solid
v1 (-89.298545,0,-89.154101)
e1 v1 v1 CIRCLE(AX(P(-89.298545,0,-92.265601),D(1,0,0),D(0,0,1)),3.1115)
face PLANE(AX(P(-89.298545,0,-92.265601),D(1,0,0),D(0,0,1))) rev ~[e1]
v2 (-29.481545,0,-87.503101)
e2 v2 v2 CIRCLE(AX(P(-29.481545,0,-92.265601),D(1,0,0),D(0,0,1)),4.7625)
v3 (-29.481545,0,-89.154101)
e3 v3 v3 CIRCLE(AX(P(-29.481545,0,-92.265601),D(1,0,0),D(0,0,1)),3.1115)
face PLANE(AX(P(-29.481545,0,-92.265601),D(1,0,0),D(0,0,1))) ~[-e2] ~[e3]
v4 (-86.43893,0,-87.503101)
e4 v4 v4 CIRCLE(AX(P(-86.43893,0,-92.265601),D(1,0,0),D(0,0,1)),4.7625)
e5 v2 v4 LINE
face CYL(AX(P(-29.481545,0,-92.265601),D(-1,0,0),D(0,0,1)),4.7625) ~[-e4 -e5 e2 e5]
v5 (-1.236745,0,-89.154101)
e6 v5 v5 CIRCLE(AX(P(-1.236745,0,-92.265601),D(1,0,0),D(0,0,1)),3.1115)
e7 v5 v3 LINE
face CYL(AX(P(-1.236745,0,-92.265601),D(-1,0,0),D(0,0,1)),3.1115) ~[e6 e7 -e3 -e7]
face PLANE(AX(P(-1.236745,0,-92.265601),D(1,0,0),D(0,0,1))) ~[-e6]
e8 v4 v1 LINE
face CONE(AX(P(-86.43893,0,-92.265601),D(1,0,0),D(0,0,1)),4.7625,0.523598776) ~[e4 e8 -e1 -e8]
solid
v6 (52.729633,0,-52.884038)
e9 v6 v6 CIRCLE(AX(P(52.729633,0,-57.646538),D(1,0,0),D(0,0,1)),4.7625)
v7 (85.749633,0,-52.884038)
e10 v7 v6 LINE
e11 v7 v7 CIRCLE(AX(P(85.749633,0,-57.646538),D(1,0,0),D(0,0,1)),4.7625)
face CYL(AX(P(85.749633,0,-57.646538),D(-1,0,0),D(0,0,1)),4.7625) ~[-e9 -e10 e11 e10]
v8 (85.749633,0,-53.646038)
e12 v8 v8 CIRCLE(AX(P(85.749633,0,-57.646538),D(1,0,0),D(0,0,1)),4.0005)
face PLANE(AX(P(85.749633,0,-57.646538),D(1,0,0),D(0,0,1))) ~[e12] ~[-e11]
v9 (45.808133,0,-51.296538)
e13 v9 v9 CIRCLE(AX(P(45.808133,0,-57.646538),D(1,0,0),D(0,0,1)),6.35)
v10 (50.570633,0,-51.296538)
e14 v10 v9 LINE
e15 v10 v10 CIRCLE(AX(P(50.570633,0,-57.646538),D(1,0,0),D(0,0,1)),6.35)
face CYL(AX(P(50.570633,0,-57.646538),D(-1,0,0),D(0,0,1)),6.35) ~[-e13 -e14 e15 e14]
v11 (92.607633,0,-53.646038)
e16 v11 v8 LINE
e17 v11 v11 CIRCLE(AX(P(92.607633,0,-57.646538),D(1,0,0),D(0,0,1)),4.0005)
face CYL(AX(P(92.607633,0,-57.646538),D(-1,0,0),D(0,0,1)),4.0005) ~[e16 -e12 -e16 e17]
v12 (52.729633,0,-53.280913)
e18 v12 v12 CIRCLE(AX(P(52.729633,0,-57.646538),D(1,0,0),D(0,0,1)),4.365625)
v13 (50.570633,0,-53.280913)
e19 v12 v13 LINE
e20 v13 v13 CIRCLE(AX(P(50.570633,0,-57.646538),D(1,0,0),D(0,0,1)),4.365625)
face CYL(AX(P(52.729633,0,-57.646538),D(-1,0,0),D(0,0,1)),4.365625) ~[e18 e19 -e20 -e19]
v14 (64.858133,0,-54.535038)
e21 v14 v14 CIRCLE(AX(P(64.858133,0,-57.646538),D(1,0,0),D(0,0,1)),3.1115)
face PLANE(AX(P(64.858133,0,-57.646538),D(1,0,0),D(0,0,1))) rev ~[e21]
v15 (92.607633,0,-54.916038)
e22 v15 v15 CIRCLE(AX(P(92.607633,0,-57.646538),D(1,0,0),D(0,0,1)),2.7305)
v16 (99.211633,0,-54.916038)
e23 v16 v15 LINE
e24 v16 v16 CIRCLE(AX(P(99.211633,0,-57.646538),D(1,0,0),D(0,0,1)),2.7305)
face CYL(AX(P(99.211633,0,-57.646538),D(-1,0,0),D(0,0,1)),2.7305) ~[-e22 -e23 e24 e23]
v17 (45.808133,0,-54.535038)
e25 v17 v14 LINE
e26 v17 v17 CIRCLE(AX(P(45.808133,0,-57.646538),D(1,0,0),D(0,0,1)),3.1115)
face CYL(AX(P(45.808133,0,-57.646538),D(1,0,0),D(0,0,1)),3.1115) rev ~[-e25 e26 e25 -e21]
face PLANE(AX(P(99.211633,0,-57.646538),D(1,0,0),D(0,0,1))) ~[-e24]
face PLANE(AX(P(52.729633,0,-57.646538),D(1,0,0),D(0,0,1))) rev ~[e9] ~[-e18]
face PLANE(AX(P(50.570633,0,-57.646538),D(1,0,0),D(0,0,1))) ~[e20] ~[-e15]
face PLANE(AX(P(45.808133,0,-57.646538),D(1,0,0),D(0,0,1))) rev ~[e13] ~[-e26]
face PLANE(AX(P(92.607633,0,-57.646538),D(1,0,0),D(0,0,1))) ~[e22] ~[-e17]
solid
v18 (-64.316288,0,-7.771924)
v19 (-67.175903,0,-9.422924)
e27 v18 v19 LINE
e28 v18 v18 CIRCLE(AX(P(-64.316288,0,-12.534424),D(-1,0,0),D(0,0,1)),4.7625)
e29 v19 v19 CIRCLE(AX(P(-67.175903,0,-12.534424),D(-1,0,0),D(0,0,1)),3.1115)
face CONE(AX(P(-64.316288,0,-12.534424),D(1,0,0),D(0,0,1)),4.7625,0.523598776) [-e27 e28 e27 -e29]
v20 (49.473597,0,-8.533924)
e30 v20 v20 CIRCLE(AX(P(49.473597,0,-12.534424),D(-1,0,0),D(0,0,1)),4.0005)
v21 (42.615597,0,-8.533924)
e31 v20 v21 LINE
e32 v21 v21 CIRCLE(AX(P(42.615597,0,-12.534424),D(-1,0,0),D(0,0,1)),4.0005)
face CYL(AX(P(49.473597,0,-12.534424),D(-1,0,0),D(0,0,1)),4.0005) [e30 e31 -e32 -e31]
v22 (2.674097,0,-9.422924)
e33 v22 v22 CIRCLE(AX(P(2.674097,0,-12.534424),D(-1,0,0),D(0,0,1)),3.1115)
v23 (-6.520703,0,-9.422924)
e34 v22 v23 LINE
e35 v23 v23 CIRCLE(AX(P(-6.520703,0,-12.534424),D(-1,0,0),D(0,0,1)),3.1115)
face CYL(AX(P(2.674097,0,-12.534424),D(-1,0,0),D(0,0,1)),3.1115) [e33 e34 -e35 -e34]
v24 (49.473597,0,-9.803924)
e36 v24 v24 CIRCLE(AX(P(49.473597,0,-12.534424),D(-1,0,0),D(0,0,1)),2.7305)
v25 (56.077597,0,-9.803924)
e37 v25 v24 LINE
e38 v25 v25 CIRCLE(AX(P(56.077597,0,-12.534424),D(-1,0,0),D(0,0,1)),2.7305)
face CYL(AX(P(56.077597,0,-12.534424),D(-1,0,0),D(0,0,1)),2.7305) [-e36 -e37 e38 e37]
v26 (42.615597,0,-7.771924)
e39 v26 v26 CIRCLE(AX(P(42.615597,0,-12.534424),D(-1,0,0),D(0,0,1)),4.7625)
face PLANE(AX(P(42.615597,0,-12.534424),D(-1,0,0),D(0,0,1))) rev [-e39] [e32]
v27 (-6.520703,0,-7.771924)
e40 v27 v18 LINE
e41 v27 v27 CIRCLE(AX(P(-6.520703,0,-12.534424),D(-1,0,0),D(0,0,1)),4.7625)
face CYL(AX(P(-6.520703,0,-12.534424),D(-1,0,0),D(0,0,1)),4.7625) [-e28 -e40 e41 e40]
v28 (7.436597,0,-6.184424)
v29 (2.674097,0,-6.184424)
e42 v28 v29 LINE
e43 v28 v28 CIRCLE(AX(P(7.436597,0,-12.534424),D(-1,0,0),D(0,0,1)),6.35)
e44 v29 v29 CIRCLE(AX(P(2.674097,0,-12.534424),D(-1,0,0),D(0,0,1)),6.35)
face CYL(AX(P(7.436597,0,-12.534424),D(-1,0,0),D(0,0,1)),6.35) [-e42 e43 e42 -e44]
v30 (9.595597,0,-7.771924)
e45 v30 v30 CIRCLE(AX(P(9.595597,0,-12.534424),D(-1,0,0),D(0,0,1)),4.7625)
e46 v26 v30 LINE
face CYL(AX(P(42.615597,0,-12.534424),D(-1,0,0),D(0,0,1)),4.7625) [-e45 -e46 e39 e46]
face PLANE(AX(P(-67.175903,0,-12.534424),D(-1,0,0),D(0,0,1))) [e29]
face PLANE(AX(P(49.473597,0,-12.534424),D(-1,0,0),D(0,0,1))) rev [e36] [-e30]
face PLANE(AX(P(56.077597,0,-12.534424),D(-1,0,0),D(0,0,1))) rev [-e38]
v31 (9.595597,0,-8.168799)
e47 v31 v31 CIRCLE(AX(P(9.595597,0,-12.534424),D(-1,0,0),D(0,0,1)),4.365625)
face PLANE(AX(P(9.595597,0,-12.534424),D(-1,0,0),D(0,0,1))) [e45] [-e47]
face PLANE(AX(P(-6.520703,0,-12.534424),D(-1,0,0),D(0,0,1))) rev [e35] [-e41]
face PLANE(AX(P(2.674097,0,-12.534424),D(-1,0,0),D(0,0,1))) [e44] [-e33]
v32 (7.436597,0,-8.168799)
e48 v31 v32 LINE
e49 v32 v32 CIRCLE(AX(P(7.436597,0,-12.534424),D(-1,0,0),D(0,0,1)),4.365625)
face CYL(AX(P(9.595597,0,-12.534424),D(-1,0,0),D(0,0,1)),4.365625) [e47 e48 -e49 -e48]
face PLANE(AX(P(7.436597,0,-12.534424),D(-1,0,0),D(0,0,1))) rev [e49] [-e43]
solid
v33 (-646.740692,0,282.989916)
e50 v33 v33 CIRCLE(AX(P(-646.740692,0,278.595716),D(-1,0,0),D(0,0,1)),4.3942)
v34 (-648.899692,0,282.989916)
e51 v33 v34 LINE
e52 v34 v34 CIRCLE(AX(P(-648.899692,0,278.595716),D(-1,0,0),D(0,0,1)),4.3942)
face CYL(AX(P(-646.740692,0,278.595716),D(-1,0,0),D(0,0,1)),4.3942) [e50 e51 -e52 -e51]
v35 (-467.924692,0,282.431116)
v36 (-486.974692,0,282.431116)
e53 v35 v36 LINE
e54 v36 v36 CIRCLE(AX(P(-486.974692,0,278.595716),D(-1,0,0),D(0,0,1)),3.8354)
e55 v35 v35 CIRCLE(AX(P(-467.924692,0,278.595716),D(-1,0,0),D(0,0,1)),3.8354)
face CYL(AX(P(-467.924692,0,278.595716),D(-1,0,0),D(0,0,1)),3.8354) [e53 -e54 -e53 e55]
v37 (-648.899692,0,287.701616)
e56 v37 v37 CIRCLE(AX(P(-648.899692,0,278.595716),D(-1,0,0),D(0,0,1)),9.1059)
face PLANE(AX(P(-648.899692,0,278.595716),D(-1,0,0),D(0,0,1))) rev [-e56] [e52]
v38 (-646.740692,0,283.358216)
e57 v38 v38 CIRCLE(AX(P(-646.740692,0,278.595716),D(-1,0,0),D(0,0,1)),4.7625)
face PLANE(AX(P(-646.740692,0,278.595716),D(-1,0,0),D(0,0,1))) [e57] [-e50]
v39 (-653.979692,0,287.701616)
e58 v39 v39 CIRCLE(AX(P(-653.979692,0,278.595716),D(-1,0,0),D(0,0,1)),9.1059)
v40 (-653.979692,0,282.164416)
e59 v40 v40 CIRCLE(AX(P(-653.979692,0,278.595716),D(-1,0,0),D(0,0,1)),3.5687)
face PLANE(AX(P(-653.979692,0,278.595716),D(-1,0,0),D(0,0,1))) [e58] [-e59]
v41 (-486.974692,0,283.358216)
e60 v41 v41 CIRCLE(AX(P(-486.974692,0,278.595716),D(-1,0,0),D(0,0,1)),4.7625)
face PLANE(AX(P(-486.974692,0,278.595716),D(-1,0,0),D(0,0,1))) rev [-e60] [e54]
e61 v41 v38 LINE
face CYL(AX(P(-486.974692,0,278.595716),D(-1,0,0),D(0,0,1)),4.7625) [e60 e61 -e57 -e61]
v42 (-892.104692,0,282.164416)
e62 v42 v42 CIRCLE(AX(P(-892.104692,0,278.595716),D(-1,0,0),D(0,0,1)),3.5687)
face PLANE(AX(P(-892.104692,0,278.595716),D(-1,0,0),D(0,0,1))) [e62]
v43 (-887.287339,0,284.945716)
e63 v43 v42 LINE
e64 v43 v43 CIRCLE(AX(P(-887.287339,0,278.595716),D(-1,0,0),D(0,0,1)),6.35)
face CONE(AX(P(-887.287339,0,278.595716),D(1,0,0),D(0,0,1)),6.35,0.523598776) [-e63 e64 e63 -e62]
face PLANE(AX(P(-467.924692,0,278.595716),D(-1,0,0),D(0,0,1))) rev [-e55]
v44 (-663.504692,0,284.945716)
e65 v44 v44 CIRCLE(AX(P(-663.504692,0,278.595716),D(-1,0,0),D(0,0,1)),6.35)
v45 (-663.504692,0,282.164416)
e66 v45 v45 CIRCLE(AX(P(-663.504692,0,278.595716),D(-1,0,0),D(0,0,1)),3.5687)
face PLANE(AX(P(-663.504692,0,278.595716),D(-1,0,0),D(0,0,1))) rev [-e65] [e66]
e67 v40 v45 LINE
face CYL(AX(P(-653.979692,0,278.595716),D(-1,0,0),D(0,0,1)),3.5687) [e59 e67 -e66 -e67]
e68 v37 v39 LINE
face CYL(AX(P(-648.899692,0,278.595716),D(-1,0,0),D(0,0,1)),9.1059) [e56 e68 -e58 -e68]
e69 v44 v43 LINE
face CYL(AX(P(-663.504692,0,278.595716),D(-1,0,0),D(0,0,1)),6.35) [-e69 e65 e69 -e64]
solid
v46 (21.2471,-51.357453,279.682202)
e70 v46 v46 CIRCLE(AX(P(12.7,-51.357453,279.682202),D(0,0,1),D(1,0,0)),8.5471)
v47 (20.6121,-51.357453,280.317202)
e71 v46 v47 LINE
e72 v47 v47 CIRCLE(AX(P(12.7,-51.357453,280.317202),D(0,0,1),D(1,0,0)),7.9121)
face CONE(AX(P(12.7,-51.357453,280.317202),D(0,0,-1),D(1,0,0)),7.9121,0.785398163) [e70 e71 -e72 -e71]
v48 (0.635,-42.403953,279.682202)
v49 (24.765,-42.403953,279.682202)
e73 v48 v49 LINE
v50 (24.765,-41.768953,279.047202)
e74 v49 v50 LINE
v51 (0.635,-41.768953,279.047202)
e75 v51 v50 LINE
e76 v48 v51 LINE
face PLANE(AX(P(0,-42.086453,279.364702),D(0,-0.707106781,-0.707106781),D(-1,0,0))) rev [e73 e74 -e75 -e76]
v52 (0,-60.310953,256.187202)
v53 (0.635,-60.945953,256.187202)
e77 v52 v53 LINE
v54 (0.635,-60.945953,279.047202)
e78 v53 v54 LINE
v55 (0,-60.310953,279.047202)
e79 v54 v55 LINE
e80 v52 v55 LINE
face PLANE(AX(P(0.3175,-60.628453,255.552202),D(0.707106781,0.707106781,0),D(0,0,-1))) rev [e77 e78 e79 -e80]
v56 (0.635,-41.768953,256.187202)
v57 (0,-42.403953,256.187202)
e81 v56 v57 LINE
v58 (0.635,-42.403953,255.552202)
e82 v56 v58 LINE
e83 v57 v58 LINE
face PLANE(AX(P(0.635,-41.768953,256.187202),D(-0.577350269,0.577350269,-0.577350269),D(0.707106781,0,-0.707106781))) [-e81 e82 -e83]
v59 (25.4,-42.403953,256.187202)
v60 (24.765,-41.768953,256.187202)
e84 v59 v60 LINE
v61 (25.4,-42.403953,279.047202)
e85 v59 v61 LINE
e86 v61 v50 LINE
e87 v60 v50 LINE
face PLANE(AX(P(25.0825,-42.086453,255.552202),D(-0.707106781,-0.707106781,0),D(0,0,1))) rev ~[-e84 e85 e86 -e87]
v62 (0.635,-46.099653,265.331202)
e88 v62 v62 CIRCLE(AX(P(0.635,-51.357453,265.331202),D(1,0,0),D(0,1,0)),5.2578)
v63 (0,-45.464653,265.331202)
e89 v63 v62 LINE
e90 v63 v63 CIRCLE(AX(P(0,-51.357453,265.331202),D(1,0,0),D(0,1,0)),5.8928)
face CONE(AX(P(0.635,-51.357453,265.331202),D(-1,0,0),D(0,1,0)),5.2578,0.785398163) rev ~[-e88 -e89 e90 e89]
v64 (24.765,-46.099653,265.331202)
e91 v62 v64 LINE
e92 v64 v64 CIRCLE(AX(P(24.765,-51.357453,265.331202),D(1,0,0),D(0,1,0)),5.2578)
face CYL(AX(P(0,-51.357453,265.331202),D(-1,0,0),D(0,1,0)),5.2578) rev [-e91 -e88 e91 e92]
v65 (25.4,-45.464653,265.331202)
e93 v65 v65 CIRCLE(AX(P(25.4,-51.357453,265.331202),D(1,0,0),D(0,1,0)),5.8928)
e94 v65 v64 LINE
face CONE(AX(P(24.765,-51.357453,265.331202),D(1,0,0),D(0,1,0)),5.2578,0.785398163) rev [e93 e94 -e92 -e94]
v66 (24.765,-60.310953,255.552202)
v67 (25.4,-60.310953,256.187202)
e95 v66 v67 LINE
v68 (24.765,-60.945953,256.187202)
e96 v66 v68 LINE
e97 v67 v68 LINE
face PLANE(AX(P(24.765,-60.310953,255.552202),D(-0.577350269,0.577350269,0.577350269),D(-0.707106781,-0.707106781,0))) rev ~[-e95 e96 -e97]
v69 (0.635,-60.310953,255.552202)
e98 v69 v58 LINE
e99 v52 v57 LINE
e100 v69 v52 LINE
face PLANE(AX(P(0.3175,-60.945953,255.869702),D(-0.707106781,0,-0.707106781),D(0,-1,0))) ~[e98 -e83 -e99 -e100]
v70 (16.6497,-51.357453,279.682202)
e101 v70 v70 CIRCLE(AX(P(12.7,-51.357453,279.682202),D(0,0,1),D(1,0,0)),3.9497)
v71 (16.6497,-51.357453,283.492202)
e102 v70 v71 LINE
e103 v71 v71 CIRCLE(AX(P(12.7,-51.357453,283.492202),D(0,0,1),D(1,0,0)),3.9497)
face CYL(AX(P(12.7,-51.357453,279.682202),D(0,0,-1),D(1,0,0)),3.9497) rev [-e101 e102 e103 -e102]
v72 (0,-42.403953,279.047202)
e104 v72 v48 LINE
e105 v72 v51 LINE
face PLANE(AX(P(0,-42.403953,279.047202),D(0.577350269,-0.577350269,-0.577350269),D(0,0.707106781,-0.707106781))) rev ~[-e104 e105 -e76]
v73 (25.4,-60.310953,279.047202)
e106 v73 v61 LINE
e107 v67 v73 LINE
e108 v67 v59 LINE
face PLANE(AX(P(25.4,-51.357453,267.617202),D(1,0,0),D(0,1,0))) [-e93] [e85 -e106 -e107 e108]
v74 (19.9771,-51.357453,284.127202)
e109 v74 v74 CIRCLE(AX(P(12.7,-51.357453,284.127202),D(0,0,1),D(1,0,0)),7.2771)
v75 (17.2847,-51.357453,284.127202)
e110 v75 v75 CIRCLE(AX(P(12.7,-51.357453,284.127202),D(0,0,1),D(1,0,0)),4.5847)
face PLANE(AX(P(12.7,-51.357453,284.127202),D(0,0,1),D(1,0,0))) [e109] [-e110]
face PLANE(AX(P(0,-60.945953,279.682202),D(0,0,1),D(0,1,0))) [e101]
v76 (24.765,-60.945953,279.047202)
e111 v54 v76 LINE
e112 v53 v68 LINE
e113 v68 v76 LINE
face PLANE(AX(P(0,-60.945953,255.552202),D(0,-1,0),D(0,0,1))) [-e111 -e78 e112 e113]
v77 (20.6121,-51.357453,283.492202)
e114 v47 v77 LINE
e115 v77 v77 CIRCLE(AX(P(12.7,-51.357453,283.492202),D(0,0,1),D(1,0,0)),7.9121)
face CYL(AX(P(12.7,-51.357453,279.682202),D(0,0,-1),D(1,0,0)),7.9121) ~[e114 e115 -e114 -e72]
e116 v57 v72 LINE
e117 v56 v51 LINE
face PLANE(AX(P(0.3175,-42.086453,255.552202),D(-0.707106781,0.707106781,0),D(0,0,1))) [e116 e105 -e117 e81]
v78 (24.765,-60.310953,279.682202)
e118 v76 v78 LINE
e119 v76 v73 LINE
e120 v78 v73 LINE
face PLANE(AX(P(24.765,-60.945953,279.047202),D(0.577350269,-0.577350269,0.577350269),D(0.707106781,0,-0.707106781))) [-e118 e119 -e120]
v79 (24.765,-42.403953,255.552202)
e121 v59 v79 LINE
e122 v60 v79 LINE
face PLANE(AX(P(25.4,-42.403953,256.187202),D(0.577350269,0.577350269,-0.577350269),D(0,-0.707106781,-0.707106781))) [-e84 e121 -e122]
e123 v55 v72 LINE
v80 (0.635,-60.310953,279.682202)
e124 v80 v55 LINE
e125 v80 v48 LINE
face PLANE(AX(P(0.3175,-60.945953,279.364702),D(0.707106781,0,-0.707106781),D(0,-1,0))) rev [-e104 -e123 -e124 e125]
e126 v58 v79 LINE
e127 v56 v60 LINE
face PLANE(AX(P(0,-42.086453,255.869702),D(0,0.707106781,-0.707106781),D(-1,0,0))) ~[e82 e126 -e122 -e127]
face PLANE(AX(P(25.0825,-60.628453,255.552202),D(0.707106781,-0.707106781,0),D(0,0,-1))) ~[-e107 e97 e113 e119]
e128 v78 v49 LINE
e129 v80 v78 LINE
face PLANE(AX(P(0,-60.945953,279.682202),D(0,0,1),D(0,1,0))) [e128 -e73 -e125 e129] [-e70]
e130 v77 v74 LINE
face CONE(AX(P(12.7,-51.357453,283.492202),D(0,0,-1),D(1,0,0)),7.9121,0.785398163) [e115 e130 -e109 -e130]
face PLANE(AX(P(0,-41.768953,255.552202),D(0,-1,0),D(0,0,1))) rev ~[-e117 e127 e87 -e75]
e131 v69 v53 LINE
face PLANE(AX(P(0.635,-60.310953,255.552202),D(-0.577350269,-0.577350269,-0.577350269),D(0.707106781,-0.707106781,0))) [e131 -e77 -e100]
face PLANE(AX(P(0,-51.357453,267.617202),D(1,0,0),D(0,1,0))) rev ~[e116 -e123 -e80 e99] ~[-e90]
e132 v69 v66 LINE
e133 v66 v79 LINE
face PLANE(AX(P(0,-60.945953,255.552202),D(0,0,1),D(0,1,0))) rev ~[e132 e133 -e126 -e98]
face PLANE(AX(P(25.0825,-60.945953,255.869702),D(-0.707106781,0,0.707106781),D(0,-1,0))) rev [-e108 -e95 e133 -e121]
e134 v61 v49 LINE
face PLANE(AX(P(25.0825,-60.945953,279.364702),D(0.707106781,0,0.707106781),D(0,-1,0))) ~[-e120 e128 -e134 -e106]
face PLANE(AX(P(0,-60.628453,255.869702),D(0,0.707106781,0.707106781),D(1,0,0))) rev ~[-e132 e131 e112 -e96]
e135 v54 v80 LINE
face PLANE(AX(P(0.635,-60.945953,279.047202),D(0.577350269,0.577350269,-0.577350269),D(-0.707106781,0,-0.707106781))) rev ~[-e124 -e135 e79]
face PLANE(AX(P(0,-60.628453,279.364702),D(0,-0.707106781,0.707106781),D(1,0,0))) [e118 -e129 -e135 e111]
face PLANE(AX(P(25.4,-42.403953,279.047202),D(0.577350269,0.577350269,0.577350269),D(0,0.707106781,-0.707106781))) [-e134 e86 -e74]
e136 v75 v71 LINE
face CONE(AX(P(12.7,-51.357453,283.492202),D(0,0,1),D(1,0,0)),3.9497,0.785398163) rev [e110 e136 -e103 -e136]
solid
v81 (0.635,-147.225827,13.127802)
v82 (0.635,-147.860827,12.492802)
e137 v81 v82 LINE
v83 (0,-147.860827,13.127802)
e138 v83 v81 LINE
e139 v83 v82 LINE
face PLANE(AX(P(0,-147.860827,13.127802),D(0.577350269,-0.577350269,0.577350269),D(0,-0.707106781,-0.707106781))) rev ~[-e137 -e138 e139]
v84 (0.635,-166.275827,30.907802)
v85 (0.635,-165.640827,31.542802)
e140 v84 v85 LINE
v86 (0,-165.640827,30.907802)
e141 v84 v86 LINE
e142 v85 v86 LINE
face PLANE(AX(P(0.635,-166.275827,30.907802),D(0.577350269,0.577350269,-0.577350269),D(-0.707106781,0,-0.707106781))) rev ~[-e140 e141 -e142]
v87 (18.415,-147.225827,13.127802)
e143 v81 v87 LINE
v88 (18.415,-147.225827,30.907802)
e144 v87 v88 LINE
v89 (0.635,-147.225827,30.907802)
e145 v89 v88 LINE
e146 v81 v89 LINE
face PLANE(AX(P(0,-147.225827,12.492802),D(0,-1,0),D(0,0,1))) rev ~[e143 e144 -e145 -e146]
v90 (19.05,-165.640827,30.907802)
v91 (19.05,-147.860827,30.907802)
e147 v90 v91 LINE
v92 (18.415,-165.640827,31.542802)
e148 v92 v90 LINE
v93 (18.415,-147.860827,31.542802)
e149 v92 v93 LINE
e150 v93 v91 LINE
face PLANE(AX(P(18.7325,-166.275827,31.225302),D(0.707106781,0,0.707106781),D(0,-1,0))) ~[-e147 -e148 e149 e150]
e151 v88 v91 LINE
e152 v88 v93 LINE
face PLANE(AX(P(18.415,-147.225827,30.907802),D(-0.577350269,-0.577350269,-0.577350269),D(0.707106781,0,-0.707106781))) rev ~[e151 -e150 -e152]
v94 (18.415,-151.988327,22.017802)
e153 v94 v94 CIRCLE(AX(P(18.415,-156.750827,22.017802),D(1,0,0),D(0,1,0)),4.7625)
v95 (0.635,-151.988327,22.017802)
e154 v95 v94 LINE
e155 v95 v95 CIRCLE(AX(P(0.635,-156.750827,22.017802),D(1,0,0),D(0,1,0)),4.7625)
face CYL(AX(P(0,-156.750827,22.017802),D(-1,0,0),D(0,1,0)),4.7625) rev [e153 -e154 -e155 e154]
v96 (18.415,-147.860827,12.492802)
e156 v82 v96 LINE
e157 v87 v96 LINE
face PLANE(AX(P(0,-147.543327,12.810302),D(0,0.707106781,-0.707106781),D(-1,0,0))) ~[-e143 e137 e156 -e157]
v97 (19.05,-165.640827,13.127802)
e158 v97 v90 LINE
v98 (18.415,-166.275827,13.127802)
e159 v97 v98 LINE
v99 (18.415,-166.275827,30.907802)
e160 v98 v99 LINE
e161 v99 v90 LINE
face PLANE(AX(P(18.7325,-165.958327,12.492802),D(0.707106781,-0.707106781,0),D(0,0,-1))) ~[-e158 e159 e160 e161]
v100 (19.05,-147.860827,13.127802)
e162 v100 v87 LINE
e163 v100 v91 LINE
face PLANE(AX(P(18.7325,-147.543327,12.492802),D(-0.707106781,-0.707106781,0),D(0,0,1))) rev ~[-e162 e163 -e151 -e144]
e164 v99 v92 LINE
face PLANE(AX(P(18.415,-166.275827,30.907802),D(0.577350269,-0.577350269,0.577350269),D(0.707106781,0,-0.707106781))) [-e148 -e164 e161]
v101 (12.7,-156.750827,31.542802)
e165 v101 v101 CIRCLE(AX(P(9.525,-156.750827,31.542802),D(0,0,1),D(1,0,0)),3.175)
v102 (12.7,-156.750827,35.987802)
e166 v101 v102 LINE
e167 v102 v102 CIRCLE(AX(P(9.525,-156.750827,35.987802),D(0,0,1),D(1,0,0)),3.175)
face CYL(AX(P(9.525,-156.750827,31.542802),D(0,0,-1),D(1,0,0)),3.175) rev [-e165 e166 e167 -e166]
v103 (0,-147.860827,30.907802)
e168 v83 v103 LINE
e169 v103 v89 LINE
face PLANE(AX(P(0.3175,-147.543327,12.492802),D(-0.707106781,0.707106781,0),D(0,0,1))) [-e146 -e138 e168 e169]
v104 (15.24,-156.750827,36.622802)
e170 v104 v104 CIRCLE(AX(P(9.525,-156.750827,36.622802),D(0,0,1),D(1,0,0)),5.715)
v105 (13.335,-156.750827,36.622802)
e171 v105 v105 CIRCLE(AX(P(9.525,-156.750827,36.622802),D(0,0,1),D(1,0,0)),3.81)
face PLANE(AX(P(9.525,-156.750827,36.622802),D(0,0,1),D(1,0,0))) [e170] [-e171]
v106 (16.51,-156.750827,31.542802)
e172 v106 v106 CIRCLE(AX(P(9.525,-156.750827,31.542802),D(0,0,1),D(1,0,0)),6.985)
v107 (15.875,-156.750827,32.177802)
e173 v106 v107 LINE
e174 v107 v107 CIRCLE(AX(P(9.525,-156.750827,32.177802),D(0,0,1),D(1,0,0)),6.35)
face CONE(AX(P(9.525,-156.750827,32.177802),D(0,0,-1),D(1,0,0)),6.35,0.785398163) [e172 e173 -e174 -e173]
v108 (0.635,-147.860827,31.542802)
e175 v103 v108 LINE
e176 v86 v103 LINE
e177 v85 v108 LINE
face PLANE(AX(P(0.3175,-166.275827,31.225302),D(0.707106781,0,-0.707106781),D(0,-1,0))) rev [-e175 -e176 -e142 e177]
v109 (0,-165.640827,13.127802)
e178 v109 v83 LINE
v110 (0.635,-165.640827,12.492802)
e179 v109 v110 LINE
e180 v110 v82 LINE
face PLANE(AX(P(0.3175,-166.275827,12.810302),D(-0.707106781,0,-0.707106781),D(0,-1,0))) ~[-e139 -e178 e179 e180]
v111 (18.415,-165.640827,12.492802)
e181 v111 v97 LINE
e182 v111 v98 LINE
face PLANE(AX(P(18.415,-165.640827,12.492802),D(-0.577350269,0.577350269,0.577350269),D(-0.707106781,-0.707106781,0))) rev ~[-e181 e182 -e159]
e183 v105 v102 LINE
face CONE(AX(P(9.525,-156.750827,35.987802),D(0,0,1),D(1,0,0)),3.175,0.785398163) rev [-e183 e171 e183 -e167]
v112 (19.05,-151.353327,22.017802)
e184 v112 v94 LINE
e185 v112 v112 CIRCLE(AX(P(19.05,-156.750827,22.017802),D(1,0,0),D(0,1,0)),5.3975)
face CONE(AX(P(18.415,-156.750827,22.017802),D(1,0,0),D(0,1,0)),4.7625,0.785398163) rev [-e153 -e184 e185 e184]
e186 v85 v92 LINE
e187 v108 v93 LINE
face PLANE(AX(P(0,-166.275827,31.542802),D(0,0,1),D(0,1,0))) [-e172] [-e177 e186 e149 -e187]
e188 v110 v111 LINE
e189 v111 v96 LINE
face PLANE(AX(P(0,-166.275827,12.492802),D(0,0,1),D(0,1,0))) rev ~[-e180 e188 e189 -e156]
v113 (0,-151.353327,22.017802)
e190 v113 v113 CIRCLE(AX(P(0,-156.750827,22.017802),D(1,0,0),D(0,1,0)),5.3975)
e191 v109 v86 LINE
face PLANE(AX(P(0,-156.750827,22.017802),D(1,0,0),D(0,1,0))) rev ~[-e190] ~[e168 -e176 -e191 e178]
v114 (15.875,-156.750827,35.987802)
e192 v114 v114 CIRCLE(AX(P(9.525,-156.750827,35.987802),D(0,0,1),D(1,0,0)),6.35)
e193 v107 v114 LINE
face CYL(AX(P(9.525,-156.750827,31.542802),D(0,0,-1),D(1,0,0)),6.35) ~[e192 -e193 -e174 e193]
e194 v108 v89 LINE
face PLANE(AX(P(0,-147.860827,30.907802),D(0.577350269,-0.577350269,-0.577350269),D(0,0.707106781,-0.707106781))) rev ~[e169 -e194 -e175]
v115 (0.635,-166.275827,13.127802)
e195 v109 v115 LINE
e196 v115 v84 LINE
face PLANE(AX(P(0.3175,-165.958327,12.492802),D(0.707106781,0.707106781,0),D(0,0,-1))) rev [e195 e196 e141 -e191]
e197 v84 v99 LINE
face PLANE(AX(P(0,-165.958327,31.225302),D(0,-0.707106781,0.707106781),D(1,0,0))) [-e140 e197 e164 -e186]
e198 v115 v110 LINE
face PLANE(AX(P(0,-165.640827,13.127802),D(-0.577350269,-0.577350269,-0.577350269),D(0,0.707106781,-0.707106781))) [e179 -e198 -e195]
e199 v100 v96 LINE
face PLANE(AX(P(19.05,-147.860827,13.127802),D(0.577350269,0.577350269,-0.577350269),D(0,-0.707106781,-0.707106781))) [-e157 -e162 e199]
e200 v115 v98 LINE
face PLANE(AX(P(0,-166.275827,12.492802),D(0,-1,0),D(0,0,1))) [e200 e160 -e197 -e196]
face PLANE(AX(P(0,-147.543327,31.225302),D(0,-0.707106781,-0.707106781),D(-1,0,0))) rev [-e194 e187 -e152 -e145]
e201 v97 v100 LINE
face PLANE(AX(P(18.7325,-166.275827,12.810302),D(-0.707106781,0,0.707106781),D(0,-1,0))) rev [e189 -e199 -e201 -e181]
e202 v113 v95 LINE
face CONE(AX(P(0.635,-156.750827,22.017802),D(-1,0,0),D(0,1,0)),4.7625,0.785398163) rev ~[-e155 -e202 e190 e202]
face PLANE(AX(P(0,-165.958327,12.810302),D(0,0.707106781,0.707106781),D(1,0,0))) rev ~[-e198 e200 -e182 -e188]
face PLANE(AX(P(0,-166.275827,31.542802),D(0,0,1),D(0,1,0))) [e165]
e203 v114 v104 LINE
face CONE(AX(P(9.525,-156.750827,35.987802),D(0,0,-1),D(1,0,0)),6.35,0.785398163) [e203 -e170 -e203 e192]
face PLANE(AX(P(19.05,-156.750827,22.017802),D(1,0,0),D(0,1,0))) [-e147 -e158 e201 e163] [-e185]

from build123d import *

# Parameters (mm, degrees)
F4_W      = 19.05
F4_H      = 19.05
F4_R      = 4.7625
F5_DEPTH  = 19.05
F6_R      = 6.35
F6_R_2    = 3.175
F7_DEPTH  = 5.08
F8_SIZE   = 0.635
F11_W     = 19.177
F11_H     = 24.13
F11_R     = 5.2578
F12_DEPTH = 25.4
F13_R     = 7.9121
F13_R_2   = 3.9497
F14_DEPTH = 4.445
F15_SIZE  = 0.635


with BuildPart() as f1:
    # F0 (on Front) → F1 (revolve)
    with BuildSketch(Plane.XZ):
        Polygon((-67.1759034309, -9.422924332), (-67.1759034309, -12.534424332), (56.0775965691, -12.534424332), (56.0775965691, -9.803924332), (49.4735965691, -9.803924332), (49.4735965691, -8.533924332), (42.6155965691, -8.533924332), (42.6155965691, -7.771924332), (9.5955965691, -7.771924332), (9.5955965691, -8.168799332), (7.4365965691, -8.168799332), (7.4365965691, -6.184424332), (2.6740965691, -6.184424332), (2.6740965691, -9.422924332), (-6.5207034309, -9.422924332), (-6.5207034309, -7.771924332), (-64.3162875476, -7.771924332), align=None)
    revolve(axis=Axis((-5.5491534309, 0, -12.534424332), (-1, 0, 0)))


with BuildPart() as f2:
    # F0 (on Front) → F2 (revolve)
    with BuildSketch(Plane.XZ):
        Polygon((-89.2985454399, -89.1541014334), (-89.2985454399, -92.2656014334), (-1.2367454399, -92.2656014334), (-1.2367454399, -89.1541014334), (-29.4815454399, -89.1541014334), (-29.4815454399, -87.5031014334), (-86.4389295566, -87.5031014334), align=None)
    revolve(axis=Axis((-45.2676454399, 0, -92.2656014334), (1, 0, 0)))


with BuildPart() as f3:
    # F0 (on Front) → F3 (revolve)
    with BuildSketch(Plane.XZ):
        Polygon((45.8081327622, -51.2965384915), (45.8081327622, -54.5350384915), (64.8581327622, -54.5350384915), (64.8581327622, -57.6465384915), (99.2116327622, -57.6465384915), (99.2116327622, -54.9160384915), (92.6076327622, -54.9160384915), (92.6076327622, -53.6460384915), (85.7496327622, -53.6460384915), (85.7496327622, -52.8840384915), (52.7296327622, -52.8840384915), (52.7296327622, -53.2809134915), (50.5706327622, -53.2809134915), (50.5706327622, -51.2965384915), align=None)
    revolve(axis=Axis((82.0348827622, 0, -57.6465384915), (1, 0, 0)))


with BuildPart() as f5:
    # F4 (on Right) → F5 (new body)
    with BuildSketch(Plane.YZ):
        with Locations((-156.7508269787, 22.0178019941)):
            Rectangle(F4_W, F4_H)
        with Locations((-156.7508269787, 22.0178019941)):
            Circle(F4_R, mode=Mode.SUBTRACT)
    extrude(amount=F5_DEPTH)

    # F6 (on face) → F7 (join)
    with BuildSketch(Plane.XY.offset(31.5428019941)):
        with Locations((9.525, -156.7508269787)):
            Circle(F6_R)
        with Locations((9.525, -156.7508269787)):
            Circle(F6_R_2, mode=Mode.SUBTRACT)
    extrude(amount=F7_DEPTH)

    # F8
    f8_edges = [f5.edges().sort_by_distance(p)[0] for p in [
        (3.175, -156.750827, 36.622802),
        (6.35, -156.750827, 36.622802),
        (19.05, -161.513327, 22.017802),
        (19.05, -156.750827, 31.542802),
        (9.525, -147.225827, 31.542802),
        (0, -156.750827, 31.542802),
        (9.525, -166.275827, 31.542802),
        (3.175, -156.750827, 31.542802),
        (9.525, -147.225827, 12.492802),
        (0, -147.225827, 22.017802),
        (19.05, -147.225827, 22.017802),
        (19.05, -166.275827, 22.017802),
        (19.05, -156.750827, 12.492802),
        (9.525, -166.275827, 12.492802),
        (0, -166.275827, 22.017802),
        (0, -156.750827, 12.492802),
        (0, -161.513327, 22.017802),
    ]]
    chamfer(f8_edges, length=F8_SIZE)


with BuildPart() as f10:
    # F9 (on Front) → F10 (revolve)
    with BuildSketch(Plane.XZ):
        Polygon((-892.1046921184, 282.1644161363), (-892.1046921184, 278.5957161363), (-467.9246921184, 278.5957161363), (-467.9246921184, 282.4311161363), (-486.9746921184, 282.4311161363), (-486.9746921184, 283.3582161363), (-646.7406921184, 283.3582161363), (-646.7406921184, 282.9899161363), (-648.8996921184, 282.9899161363), (-648.8996921184, 287.7016161363), (-653.9796921184, 287.7016161363), (-653.9796921184, 282.1644161363), (-663.5046921184, 282.1644161363), (-663.5046921184, 284.9457161363), (-887.2873392073, 284.9457161363), align=None)
    revolve(axis=Axis((-680.0146921184, 0, 278.5957161363), (-1, 0, 0)))


with BuildPart() as f12:
    # F11 (on Right) → F12 (new body)
    with BuildSketch(Plane.YZ):
        with Locations((-51.3574532042, 267.6172024632)):
            Rectangle(F11_W, F11_H)
        with Locations((-51.3574532042, 265.3312024632)):
            Circle(F11_R, mode=Mode.SUBTRACT)
    extrude(amount=F12_DEPTH)

    # F13 (on face) → F14 (join)
    with BuildSketch(Plane.XY.offset(279.6822024632)):
        with Locations((12.7, -51.3574532042)):
            Circle(F13_R)
        with Locations((12.7, -51.3574532042)):
            Circle(F13_R_2, mode=Mode.SUBTRACT)
    extrude(amount=F14_DEPTH)

    # F15
    f15_edges = [f12.edges().sort_by_distance(p)[0] for p in [
        (4.7879, -51.357453, 284.127202),
        (8.7503, -51.357453, 284.127202),
        (12.7, -41.768953, 279.682202),
        (0, -51.357453, 279.682202),
        (25.4, -51.357453, 279.682202),
        (12.7, -60.945953, 279.682202),
        (4.7879, -51.357453, 279.682202),
        (0, -60.945953, 267.617202),
        (0, -51.357453, 255.552202),
        (0, -41.768953, 267.617202),
        (0, -56.615253, 265.331202),
        (12.7, -41.768953, 255.552202),
        (25.4, -41.768953, 267.617202),
        (25.4, -60.945953, 267.617202),
        (25.4, -51.357453, 255.552202),
        (25.4, -56.615253, 265.331202),
        (12.7, -60.945953, 255.552202),
    ]]
    chamfer(f15_edges, length=F15_SIZE)


solid = Compound([f1.part, f2.part, f3.part, f5.part, f10.part, f12.part])
